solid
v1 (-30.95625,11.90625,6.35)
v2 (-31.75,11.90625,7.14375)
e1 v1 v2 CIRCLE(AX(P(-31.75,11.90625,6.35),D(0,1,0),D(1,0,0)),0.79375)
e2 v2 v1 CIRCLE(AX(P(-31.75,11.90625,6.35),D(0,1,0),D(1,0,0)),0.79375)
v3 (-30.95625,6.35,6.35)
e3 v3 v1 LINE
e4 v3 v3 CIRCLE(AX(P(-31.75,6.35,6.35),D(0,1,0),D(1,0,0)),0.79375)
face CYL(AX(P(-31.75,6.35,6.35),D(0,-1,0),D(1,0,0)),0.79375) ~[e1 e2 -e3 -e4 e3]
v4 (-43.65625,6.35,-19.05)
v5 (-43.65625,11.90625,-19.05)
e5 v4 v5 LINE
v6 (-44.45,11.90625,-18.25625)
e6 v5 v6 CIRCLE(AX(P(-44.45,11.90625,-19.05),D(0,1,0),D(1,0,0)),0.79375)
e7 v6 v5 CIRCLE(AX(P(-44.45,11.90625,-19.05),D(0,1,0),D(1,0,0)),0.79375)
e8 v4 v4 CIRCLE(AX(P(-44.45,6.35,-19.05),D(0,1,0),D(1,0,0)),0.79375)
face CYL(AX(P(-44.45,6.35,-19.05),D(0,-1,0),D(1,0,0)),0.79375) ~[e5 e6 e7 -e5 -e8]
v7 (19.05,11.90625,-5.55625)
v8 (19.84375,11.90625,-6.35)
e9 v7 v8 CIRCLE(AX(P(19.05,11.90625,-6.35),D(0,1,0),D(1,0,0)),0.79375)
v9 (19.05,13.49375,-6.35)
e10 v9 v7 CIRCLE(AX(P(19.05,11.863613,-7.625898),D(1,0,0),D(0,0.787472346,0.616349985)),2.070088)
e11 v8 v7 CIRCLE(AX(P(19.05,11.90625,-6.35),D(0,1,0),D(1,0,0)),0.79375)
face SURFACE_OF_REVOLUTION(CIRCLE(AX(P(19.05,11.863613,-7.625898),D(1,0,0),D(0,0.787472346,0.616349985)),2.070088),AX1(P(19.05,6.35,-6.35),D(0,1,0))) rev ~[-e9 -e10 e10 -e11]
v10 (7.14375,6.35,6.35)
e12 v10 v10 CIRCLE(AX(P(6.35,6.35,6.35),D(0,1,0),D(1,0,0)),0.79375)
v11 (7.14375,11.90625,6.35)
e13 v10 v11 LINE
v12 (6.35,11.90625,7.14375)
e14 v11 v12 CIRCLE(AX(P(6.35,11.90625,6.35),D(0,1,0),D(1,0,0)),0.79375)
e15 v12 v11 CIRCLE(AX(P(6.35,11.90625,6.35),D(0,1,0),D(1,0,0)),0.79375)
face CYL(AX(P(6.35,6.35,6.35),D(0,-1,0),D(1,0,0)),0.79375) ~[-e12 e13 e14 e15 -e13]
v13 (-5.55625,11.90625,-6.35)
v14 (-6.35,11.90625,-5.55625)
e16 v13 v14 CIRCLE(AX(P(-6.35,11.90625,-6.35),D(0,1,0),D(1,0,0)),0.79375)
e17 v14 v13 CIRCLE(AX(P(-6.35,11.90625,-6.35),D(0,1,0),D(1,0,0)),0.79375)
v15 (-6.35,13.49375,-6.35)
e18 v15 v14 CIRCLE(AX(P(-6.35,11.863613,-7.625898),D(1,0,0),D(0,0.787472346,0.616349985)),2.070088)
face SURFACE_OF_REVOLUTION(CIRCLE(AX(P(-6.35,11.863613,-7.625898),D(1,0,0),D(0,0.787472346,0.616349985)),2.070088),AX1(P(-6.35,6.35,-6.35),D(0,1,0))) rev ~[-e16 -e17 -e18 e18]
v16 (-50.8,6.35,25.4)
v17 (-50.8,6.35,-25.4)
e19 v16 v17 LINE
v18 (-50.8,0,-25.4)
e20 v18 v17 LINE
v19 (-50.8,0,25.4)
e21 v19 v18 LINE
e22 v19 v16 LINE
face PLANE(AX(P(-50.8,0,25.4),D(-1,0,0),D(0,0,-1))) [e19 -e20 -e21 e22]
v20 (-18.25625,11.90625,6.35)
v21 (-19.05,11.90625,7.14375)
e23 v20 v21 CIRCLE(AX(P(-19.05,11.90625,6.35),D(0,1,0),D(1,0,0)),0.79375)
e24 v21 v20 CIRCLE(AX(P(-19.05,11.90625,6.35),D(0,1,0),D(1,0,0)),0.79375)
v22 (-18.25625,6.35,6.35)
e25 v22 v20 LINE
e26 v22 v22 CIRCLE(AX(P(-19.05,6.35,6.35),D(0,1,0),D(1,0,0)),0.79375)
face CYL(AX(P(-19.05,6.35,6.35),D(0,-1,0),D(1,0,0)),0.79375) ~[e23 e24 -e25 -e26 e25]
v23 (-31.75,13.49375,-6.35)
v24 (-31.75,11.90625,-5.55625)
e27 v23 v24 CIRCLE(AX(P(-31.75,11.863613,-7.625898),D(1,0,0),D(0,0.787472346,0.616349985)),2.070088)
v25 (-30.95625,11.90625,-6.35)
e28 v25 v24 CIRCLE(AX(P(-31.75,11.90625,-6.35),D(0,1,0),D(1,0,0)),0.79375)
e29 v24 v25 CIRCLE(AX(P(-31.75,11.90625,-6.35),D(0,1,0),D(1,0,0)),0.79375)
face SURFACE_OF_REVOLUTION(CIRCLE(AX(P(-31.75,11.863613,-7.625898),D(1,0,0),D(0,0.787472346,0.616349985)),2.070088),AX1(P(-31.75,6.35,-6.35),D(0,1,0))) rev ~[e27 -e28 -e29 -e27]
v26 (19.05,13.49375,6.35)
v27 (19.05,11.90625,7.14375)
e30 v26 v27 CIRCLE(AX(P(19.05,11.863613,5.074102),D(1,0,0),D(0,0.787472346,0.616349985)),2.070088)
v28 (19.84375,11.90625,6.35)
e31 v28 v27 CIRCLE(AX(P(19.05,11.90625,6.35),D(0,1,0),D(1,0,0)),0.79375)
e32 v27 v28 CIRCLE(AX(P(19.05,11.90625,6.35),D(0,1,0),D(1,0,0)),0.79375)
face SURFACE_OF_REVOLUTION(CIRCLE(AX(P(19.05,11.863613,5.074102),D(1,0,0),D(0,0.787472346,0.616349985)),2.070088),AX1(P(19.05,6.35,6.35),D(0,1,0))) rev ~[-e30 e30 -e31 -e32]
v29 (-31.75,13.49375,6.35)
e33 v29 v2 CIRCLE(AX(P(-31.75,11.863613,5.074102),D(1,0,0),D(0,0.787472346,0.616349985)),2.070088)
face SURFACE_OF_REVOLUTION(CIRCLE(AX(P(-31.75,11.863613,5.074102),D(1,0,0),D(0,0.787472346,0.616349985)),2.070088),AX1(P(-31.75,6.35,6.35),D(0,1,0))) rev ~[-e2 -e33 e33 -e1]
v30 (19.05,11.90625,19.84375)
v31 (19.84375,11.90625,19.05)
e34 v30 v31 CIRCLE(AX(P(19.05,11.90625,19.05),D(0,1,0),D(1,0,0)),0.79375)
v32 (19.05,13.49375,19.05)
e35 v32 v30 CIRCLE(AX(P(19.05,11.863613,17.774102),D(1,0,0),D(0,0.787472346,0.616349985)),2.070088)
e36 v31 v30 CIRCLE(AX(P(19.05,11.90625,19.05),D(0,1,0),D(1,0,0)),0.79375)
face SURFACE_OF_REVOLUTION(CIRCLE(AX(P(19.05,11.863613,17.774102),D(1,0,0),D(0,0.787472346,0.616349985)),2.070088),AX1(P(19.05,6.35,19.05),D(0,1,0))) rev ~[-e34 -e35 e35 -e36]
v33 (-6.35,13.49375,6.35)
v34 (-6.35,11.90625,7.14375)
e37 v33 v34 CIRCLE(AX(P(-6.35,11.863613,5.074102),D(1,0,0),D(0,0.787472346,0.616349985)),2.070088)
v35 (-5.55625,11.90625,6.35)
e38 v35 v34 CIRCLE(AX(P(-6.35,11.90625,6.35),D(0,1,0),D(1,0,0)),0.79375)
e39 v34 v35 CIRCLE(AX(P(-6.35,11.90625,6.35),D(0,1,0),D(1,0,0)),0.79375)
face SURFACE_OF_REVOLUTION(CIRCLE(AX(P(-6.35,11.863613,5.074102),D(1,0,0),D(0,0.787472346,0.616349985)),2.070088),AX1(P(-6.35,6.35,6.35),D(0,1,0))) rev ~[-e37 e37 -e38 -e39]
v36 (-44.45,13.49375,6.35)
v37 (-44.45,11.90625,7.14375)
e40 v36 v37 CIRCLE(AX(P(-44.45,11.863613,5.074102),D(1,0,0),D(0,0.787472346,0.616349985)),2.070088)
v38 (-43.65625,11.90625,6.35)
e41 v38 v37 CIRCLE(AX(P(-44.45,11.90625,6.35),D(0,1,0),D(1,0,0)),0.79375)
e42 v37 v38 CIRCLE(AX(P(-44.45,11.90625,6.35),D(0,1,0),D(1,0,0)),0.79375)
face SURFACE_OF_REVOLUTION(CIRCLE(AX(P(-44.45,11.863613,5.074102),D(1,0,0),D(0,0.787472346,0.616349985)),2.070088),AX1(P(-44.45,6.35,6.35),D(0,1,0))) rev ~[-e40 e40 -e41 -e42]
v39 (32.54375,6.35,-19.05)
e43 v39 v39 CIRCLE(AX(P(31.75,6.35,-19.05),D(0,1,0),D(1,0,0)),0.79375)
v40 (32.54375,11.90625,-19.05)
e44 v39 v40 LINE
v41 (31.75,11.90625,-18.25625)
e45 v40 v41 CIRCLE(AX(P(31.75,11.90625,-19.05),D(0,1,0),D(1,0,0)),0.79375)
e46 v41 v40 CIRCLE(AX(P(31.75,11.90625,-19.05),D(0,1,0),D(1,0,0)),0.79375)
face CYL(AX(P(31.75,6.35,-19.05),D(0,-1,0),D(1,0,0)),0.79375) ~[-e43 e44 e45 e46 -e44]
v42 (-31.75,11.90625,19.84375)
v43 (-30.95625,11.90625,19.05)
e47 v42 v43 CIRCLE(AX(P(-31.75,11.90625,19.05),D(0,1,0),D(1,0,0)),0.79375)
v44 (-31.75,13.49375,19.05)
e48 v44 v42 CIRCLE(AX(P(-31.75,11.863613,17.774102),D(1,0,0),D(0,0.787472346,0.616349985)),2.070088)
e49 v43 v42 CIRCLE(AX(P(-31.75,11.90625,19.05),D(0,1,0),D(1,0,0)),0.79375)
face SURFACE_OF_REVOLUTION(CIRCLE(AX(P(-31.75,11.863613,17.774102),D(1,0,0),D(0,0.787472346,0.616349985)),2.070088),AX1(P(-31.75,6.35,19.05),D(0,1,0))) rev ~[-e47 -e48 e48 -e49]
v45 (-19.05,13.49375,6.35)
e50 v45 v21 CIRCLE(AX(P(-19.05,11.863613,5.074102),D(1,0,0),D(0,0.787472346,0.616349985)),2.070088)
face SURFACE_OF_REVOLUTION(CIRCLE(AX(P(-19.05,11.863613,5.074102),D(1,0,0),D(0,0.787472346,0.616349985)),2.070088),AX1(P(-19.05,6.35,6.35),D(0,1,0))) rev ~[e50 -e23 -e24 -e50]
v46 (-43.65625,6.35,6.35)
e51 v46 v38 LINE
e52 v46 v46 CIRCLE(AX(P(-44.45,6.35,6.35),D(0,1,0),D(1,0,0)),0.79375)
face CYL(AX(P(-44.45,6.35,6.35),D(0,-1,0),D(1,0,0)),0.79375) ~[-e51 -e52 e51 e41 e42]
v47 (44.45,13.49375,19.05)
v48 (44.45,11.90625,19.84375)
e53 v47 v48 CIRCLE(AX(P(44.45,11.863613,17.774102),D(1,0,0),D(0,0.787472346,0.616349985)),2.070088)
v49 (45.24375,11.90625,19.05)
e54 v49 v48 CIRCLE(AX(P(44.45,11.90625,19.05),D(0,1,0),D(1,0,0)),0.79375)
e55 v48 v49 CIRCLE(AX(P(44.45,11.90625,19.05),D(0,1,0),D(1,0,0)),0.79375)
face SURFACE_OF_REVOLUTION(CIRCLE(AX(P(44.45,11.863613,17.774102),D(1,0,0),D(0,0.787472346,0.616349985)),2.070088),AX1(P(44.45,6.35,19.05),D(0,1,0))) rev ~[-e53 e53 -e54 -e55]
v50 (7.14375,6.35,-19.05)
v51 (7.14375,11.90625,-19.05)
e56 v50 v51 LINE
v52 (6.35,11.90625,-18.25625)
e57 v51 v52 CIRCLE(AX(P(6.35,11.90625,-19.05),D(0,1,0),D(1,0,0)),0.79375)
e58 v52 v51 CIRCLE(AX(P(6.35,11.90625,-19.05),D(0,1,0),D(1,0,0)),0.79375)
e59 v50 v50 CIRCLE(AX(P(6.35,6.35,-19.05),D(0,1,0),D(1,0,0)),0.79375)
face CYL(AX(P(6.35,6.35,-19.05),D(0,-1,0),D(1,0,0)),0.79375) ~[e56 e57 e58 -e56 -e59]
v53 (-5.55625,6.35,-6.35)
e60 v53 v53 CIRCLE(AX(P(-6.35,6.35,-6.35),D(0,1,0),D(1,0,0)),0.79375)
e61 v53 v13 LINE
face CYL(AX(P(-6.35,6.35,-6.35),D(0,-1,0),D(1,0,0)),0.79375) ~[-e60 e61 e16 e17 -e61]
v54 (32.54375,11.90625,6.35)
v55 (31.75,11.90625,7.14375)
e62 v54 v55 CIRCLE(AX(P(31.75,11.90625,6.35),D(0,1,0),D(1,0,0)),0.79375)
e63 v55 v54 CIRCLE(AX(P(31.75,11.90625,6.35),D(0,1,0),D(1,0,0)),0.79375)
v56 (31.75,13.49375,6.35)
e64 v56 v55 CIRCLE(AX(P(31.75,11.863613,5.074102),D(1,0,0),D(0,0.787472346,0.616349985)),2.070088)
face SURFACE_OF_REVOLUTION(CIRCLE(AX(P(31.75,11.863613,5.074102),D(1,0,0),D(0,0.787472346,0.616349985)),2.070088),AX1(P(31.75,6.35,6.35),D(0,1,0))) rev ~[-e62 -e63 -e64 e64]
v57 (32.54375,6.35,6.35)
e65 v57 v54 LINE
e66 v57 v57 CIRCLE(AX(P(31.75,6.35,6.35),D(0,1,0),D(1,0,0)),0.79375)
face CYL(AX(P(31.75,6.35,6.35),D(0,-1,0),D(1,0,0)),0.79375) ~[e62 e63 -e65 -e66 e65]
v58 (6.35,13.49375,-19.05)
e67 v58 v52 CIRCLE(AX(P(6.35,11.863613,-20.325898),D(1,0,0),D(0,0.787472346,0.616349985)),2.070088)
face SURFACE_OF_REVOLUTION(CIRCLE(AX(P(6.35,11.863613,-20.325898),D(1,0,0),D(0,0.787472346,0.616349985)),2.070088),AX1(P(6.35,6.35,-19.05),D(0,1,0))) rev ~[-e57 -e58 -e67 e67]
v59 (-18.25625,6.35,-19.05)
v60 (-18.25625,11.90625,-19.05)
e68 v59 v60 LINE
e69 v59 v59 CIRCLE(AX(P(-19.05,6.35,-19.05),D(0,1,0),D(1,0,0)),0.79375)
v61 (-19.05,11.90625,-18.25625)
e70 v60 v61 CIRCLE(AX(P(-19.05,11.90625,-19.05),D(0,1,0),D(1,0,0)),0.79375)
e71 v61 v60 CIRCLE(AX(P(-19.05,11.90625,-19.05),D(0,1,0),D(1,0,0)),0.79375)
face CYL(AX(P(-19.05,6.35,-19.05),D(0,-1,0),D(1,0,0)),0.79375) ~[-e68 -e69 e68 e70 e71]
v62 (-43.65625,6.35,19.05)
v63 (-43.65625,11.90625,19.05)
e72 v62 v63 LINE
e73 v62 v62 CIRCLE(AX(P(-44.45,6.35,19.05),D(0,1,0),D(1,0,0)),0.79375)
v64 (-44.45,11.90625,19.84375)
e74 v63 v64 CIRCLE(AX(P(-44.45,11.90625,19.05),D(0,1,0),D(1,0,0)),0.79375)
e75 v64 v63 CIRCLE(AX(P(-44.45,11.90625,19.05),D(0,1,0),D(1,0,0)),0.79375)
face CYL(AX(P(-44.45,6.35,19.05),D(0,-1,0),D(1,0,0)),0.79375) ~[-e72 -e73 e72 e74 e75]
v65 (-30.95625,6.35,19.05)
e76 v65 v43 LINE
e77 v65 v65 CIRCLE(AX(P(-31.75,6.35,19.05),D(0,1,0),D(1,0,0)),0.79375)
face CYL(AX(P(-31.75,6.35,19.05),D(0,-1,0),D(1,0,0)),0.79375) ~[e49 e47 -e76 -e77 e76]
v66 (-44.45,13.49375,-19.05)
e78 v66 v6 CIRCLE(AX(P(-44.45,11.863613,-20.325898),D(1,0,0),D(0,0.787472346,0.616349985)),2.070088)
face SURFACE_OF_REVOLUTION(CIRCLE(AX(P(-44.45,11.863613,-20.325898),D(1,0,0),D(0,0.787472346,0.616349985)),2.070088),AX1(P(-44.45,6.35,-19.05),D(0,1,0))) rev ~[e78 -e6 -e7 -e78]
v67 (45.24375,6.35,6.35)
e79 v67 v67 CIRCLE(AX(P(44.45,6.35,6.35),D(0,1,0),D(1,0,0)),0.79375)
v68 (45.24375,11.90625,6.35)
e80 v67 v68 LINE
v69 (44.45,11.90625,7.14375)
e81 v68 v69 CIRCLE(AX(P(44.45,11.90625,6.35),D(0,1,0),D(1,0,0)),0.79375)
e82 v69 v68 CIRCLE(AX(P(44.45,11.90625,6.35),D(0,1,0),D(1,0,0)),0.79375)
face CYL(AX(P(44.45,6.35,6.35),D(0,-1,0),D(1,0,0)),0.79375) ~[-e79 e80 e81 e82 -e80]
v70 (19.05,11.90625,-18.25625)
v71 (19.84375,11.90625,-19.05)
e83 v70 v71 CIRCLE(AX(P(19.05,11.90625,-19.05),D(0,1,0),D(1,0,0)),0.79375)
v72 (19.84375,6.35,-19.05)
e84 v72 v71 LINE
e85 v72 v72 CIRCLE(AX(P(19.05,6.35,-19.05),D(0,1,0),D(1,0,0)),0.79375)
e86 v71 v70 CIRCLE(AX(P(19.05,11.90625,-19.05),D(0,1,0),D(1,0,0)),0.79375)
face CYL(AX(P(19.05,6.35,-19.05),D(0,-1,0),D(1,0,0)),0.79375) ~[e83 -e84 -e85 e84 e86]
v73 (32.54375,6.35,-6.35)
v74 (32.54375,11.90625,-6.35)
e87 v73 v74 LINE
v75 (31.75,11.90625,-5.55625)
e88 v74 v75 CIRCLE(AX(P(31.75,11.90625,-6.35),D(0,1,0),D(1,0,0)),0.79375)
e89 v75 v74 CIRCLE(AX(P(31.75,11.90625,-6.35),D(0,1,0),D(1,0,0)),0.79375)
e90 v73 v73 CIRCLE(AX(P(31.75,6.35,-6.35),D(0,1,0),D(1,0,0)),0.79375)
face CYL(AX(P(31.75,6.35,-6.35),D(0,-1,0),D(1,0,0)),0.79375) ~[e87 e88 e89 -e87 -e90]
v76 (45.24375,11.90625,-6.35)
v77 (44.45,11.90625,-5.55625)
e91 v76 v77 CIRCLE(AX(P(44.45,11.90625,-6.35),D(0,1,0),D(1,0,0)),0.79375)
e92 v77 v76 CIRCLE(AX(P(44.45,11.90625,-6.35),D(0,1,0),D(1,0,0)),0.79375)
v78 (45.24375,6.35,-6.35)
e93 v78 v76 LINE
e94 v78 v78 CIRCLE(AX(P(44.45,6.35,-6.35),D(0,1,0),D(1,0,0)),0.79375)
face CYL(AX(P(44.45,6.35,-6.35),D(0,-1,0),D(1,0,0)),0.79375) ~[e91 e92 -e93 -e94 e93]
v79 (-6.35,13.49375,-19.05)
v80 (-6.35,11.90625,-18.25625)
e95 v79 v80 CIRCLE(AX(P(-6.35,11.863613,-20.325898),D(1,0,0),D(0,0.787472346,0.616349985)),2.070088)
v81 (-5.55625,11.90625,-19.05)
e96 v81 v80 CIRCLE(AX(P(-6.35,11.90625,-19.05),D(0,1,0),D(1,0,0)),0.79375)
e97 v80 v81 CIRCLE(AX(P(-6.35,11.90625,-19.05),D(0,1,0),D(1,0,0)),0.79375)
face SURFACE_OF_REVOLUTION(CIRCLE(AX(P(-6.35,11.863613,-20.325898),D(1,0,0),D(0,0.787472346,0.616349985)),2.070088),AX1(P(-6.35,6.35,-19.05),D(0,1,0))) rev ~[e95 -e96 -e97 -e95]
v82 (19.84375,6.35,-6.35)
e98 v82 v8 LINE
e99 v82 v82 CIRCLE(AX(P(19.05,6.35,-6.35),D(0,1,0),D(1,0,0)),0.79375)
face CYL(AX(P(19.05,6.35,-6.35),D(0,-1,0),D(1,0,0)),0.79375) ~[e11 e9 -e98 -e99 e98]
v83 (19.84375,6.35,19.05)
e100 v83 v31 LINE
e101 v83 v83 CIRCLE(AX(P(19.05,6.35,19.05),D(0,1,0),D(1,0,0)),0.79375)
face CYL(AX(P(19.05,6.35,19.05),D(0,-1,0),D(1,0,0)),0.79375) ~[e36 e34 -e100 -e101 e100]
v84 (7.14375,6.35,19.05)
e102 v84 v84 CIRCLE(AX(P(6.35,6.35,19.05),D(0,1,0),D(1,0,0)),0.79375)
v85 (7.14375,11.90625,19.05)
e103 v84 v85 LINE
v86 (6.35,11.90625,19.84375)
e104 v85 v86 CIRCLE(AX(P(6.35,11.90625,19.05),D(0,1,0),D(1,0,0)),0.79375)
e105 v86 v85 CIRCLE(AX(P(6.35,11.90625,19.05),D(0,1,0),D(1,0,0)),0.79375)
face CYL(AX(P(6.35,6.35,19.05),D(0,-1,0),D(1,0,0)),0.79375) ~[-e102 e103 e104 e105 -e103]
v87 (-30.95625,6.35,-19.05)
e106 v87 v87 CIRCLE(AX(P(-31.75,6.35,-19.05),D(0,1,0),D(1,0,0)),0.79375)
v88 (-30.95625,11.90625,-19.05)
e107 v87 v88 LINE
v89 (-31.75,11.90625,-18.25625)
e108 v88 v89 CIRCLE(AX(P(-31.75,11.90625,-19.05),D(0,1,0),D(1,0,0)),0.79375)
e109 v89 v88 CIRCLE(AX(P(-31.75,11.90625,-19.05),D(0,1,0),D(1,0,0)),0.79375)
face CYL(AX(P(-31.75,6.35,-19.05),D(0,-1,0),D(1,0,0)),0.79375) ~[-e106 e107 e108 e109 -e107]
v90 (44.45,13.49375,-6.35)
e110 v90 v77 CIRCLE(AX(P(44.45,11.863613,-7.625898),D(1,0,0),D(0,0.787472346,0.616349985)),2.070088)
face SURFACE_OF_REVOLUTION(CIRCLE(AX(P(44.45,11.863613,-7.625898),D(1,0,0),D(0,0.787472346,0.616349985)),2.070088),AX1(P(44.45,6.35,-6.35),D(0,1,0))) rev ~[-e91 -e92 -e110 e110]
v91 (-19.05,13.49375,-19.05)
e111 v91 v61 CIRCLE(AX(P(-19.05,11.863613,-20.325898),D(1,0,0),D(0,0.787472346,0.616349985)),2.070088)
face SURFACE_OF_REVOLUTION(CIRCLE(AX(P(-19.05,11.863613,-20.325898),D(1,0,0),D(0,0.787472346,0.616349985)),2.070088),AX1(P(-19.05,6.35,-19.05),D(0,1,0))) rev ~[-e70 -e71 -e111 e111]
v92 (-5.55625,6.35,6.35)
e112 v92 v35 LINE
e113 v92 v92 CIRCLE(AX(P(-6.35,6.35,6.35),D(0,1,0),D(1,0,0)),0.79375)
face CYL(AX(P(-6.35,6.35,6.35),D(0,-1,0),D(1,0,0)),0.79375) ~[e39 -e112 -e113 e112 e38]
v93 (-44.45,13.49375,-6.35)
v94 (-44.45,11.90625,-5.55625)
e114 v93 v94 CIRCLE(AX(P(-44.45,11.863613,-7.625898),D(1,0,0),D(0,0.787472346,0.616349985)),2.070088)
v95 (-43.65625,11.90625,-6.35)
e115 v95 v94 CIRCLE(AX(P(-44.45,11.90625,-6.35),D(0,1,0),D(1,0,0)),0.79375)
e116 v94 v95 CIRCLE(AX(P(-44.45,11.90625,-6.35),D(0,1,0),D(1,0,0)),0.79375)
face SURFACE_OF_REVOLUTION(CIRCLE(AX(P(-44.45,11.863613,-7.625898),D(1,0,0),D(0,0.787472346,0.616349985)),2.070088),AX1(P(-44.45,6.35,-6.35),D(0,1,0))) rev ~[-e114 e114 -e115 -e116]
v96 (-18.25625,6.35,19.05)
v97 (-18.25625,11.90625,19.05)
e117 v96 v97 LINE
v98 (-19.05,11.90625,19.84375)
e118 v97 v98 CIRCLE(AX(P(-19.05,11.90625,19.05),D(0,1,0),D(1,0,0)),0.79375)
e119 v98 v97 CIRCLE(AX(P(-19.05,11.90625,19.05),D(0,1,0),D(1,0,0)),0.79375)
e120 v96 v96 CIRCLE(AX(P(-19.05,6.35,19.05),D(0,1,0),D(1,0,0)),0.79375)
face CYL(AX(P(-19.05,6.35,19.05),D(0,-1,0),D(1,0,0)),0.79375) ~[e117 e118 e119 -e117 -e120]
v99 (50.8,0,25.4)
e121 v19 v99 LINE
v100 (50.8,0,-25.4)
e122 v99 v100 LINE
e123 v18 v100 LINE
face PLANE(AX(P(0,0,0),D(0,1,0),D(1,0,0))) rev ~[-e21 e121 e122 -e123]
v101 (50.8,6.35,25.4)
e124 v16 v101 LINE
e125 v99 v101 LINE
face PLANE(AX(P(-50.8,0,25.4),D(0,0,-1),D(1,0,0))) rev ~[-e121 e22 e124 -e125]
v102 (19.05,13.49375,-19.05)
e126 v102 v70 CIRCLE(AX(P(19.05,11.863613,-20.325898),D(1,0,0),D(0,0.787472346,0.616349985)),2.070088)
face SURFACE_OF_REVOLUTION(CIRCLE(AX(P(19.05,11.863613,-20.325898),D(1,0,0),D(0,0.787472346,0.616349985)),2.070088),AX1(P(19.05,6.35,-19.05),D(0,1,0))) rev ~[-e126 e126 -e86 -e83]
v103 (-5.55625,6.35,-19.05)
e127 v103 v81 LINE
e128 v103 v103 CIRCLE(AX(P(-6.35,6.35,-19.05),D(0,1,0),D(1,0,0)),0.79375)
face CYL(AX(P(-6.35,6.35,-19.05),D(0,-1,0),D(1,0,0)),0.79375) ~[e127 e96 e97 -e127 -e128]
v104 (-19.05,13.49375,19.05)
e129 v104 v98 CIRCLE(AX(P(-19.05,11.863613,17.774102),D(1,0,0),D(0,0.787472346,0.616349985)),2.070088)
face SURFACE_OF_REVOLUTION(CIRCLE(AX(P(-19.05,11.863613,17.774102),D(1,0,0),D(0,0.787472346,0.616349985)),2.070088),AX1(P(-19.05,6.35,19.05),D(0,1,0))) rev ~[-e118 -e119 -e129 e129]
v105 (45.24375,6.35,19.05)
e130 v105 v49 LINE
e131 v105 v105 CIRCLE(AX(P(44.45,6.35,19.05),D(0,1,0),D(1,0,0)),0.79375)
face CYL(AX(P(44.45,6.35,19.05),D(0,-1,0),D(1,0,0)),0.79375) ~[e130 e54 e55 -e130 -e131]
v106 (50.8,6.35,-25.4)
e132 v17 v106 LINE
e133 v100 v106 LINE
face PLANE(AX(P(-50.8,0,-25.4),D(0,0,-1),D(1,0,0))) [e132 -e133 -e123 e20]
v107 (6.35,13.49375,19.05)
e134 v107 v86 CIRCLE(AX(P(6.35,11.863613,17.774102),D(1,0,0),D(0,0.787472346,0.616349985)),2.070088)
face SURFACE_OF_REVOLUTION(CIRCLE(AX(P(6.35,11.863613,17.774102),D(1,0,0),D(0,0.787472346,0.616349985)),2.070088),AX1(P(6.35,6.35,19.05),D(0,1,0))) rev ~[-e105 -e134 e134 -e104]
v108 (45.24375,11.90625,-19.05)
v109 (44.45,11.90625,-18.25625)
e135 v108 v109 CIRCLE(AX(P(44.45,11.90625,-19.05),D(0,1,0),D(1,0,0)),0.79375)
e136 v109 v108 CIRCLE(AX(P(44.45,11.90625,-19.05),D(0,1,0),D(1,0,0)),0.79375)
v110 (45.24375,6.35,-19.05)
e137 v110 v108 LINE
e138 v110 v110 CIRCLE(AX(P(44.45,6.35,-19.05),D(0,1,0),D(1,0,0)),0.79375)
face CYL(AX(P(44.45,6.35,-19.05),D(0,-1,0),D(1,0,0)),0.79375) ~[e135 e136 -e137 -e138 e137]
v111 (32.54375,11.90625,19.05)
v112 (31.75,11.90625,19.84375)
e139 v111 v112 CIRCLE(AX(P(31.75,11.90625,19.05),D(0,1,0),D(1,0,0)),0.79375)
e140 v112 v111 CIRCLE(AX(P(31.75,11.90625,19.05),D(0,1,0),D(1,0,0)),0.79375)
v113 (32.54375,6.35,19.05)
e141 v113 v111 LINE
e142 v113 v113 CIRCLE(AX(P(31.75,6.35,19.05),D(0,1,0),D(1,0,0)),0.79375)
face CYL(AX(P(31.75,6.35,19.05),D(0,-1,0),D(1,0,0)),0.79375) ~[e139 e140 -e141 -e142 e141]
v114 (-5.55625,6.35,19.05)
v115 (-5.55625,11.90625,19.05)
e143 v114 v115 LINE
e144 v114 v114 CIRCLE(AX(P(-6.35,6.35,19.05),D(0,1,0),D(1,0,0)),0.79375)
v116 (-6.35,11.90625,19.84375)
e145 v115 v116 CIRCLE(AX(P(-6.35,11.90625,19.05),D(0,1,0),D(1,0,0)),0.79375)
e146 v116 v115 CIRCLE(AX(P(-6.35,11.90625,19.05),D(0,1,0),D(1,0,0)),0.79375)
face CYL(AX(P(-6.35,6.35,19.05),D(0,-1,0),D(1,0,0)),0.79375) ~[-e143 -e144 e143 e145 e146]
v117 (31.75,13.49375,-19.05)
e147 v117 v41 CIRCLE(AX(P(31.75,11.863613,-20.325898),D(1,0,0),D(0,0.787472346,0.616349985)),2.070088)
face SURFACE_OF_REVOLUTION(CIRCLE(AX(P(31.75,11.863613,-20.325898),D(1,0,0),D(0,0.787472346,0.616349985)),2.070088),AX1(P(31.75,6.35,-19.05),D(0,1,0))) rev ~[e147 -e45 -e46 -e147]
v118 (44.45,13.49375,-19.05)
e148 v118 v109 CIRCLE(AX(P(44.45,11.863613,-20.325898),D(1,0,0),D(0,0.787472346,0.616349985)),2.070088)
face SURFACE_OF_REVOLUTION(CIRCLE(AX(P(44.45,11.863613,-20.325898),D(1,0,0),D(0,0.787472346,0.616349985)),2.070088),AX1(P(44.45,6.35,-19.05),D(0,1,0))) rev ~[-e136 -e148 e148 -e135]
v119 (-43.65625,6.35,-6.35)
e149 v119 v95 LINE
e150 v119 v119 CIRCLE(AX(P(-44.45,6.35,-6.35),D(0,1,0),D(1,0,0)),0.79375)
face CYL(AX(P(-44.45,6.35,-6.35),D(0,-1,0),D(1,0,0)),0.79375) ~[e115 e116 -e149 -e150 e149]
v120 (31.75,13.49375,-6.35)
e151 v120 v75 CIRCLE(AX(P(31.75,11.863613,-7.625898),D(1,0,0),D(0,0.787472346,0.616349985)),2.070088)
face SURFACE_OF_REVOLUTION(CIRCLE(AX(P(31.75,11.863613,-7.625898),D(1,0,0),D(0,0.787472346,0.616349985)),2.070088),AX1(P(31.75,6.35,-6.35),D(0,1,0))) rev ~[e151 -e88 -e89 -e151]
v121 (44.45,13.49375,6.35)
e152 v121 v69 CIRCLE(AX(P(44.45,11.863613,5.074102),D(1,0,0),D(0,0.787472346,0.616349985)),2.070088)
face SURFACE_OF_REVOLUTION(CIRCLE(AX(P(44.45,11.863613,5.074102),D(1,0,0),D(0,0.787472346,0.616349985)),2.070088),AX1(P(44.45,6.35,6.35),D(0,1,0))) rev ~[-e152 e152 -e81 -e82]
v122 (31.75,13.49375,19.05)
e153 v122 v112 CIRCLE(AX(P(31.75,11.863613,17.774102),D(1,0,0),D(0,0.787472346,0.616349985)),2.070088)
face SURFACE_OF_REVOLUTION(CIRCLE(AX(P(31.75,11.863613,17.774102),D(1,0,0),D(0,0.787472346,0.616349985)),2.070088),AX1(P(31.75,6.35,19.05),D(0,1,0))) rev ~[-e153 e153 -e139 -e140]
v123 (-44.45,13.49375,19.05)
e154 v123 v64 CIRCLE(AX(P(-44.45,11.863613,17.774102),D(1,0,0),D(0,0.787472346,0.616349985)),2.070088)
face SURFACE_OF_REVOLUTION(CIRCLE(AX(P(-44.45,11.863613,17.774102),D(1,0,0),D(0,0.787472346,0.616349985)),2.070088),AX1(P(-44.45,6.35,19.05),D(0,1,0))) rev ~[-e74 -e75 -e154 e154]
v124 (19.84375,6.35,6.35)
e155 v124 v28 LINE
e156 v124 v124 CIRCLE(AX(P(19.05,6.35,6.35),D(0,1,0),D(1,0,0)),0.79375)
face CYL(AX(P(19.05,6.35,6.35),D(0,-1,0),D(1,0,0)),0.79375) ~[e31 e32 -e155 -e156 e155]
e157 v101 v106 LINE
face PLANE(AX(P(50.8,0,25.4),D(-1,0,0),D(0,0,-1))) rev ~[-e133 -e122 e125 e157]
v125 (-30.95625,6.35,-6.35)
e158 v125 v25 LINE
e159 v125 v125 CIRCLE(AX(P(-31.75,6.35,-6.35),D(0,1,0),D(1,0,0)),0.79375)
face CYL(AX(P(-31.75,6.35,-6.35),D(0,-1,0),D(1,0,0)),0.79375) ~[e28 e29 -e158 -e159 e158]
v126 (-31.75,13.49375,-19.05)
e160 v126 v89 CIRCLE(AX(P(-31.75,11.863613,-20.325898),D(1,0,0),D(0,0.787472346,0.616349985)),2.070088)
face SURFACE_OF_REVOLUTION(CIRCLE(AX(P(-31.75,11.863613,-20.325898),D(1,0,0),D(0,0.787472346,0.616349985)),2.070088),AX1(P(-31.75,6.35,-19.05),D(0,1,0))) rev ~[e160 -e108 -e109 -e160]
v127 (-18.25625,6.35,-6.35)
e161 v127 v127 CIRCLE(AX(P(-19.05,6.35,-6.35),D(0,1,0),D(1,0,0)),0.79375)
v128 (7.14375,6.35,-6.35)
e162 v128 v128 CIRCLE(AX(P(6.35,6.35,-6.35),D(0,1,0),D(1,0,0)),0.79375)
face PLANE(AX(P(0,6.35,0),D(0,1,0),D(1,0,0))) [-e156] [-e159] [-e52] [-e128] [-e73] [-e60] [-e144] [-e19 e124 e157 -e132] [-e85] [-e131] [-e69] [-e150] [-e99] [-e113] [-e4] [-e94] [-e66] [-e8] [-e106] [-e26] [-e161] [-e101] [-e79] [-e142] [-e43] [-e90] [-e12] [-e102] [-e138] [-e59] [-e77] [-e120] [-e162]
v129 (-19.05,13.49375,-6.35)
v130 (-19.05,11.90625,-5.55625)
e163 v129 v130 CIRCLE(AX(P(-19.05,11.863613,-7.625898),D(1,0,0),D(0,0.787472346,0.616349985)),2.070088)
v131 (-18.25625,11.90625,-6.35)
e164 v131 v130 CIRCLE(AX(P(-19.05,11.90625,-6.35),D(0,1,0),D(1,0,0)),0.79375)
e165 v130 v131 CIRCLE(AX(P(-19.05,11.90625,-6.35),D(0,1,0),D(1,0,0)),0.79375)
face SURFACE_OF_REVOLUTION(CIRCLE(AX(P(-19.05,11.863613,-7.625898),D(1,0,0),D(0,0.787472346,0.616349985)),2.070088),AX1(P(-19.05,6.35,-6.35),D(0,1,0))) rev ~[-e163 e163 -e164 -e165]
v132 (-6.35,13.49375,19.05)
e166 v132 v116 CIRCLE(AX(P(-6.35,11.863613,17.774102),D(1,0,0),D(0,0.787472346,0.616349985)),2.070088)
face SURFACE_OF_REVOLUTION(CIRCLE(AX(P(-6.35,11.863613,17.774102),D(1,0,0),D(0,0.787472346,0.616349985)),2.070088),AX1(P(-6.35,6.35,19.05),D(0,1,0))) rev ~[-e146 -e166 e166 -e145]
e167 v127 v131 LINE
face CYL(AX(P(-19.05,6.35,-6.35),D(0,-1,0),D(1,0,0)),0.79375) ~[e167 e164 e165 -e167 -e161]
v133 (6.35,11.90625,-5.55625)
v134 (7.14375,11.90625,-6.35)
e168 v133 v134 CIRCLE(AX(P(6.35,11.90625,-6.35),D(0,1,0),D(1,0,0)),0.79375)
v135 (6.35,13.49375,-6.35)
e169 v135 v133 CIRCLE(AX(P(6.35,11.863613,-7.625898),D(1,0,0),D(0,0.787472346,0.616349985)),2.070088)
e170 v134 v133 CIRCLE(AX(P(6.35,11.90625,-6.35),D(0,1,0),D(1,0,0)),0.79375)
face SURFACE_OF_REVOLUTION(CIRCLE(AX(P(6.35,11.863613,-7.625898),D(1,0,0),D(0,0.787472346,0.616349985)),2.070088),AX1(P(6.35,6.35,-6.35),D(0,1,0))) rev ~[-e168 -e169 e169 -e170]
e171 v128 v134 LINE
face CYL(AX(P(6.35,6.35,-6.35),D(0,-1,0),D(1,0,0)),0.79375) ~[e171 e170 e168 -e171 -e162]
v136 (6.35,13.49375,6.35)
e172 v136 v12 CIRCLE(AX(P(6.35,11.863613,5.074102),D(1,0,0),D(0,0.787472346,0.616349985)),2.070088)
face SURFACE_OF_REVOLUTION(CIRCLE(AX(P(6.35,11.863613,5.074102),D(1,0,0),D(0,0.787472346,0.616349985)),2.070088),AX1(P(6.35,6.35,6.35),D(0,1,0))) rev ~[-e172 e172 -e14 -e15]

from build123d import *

# Parameters (mm, degrees)
SKETCH1_W            = 101.6
SKETCH1_H            = 50.8
BOSS_EXTRUDE1_DEPTH  = 6.35
SKETCH2_R            = 0.79375
BOSS_EXTRUDE2_DEPTH  = 5.55625
LPATTERN1_COUNT      = 8
LPATTERN1_PITCH      = 12.7
LPATTERN1_COUNT_DIR2 = 4
LPATTERN1_PITCH_DIR2 = 12.7


with BuildPart() as part:
    # Sketch1 → Boss-Extrude1 (new body)
    with BuildSketch(Plane(origin=(0, 0, 0), x_dir=(1, 0, 0), z_dir=(0, 1, 0))):
        Rectangle(SKETCH1_W, SKETCH1_H)
    extrude(amount=BOSS_EXTRUDE1_DEPTH)

    # Sketch2 → Boss-Extrude2 (add)
    with BuildSketch(Plane(origin=(0, 6.35, 0), x_dir=(1, 0, 0), z_dir=(0, 1, 0))):
        with Locations((-44.45, 19.05)):
            Circle(SKETCH2_R)
    boss_extrude2 = extrude(amount=BOSS_EXTRUDE2_DEPTH)

    # Sketch12 → Revolve1 (revolve)
    with BuildSketch(Plane(origin=(-44.45, 0, 0), x_dir=(0, 0, -1), z_dir=(1, 0, 0))):
        with BuildLine():
            Line((19.05, 11.90625), (19.05, 13.49375))
            ThreePointArc((19.05, 13.49375), (18.474355829, 12.789384585), (18.25625, 11.90625))
            Line((18.25625, 11.90625), (19.05, 11.90625))
        make_face()
    revolve1 = revolve(axis=Axis((-44.45, 6.35, -19.05), (0, 1, 0)))

    # LPattern1: Boss-Extrude2, Revolve1 8 × 4
    with Locations(*[(i * LPATTERN1_PITCH, 0, j * LPATTERN1_PITCH_DIR2) for i in range(LPATTERN1_COUNT) for j in range(LPATTERN1_COUNT_DIR2) if (i, j) != (0, 0)]):
        add(boss_extrude2)
        add(revolve1)


solid = part.part
